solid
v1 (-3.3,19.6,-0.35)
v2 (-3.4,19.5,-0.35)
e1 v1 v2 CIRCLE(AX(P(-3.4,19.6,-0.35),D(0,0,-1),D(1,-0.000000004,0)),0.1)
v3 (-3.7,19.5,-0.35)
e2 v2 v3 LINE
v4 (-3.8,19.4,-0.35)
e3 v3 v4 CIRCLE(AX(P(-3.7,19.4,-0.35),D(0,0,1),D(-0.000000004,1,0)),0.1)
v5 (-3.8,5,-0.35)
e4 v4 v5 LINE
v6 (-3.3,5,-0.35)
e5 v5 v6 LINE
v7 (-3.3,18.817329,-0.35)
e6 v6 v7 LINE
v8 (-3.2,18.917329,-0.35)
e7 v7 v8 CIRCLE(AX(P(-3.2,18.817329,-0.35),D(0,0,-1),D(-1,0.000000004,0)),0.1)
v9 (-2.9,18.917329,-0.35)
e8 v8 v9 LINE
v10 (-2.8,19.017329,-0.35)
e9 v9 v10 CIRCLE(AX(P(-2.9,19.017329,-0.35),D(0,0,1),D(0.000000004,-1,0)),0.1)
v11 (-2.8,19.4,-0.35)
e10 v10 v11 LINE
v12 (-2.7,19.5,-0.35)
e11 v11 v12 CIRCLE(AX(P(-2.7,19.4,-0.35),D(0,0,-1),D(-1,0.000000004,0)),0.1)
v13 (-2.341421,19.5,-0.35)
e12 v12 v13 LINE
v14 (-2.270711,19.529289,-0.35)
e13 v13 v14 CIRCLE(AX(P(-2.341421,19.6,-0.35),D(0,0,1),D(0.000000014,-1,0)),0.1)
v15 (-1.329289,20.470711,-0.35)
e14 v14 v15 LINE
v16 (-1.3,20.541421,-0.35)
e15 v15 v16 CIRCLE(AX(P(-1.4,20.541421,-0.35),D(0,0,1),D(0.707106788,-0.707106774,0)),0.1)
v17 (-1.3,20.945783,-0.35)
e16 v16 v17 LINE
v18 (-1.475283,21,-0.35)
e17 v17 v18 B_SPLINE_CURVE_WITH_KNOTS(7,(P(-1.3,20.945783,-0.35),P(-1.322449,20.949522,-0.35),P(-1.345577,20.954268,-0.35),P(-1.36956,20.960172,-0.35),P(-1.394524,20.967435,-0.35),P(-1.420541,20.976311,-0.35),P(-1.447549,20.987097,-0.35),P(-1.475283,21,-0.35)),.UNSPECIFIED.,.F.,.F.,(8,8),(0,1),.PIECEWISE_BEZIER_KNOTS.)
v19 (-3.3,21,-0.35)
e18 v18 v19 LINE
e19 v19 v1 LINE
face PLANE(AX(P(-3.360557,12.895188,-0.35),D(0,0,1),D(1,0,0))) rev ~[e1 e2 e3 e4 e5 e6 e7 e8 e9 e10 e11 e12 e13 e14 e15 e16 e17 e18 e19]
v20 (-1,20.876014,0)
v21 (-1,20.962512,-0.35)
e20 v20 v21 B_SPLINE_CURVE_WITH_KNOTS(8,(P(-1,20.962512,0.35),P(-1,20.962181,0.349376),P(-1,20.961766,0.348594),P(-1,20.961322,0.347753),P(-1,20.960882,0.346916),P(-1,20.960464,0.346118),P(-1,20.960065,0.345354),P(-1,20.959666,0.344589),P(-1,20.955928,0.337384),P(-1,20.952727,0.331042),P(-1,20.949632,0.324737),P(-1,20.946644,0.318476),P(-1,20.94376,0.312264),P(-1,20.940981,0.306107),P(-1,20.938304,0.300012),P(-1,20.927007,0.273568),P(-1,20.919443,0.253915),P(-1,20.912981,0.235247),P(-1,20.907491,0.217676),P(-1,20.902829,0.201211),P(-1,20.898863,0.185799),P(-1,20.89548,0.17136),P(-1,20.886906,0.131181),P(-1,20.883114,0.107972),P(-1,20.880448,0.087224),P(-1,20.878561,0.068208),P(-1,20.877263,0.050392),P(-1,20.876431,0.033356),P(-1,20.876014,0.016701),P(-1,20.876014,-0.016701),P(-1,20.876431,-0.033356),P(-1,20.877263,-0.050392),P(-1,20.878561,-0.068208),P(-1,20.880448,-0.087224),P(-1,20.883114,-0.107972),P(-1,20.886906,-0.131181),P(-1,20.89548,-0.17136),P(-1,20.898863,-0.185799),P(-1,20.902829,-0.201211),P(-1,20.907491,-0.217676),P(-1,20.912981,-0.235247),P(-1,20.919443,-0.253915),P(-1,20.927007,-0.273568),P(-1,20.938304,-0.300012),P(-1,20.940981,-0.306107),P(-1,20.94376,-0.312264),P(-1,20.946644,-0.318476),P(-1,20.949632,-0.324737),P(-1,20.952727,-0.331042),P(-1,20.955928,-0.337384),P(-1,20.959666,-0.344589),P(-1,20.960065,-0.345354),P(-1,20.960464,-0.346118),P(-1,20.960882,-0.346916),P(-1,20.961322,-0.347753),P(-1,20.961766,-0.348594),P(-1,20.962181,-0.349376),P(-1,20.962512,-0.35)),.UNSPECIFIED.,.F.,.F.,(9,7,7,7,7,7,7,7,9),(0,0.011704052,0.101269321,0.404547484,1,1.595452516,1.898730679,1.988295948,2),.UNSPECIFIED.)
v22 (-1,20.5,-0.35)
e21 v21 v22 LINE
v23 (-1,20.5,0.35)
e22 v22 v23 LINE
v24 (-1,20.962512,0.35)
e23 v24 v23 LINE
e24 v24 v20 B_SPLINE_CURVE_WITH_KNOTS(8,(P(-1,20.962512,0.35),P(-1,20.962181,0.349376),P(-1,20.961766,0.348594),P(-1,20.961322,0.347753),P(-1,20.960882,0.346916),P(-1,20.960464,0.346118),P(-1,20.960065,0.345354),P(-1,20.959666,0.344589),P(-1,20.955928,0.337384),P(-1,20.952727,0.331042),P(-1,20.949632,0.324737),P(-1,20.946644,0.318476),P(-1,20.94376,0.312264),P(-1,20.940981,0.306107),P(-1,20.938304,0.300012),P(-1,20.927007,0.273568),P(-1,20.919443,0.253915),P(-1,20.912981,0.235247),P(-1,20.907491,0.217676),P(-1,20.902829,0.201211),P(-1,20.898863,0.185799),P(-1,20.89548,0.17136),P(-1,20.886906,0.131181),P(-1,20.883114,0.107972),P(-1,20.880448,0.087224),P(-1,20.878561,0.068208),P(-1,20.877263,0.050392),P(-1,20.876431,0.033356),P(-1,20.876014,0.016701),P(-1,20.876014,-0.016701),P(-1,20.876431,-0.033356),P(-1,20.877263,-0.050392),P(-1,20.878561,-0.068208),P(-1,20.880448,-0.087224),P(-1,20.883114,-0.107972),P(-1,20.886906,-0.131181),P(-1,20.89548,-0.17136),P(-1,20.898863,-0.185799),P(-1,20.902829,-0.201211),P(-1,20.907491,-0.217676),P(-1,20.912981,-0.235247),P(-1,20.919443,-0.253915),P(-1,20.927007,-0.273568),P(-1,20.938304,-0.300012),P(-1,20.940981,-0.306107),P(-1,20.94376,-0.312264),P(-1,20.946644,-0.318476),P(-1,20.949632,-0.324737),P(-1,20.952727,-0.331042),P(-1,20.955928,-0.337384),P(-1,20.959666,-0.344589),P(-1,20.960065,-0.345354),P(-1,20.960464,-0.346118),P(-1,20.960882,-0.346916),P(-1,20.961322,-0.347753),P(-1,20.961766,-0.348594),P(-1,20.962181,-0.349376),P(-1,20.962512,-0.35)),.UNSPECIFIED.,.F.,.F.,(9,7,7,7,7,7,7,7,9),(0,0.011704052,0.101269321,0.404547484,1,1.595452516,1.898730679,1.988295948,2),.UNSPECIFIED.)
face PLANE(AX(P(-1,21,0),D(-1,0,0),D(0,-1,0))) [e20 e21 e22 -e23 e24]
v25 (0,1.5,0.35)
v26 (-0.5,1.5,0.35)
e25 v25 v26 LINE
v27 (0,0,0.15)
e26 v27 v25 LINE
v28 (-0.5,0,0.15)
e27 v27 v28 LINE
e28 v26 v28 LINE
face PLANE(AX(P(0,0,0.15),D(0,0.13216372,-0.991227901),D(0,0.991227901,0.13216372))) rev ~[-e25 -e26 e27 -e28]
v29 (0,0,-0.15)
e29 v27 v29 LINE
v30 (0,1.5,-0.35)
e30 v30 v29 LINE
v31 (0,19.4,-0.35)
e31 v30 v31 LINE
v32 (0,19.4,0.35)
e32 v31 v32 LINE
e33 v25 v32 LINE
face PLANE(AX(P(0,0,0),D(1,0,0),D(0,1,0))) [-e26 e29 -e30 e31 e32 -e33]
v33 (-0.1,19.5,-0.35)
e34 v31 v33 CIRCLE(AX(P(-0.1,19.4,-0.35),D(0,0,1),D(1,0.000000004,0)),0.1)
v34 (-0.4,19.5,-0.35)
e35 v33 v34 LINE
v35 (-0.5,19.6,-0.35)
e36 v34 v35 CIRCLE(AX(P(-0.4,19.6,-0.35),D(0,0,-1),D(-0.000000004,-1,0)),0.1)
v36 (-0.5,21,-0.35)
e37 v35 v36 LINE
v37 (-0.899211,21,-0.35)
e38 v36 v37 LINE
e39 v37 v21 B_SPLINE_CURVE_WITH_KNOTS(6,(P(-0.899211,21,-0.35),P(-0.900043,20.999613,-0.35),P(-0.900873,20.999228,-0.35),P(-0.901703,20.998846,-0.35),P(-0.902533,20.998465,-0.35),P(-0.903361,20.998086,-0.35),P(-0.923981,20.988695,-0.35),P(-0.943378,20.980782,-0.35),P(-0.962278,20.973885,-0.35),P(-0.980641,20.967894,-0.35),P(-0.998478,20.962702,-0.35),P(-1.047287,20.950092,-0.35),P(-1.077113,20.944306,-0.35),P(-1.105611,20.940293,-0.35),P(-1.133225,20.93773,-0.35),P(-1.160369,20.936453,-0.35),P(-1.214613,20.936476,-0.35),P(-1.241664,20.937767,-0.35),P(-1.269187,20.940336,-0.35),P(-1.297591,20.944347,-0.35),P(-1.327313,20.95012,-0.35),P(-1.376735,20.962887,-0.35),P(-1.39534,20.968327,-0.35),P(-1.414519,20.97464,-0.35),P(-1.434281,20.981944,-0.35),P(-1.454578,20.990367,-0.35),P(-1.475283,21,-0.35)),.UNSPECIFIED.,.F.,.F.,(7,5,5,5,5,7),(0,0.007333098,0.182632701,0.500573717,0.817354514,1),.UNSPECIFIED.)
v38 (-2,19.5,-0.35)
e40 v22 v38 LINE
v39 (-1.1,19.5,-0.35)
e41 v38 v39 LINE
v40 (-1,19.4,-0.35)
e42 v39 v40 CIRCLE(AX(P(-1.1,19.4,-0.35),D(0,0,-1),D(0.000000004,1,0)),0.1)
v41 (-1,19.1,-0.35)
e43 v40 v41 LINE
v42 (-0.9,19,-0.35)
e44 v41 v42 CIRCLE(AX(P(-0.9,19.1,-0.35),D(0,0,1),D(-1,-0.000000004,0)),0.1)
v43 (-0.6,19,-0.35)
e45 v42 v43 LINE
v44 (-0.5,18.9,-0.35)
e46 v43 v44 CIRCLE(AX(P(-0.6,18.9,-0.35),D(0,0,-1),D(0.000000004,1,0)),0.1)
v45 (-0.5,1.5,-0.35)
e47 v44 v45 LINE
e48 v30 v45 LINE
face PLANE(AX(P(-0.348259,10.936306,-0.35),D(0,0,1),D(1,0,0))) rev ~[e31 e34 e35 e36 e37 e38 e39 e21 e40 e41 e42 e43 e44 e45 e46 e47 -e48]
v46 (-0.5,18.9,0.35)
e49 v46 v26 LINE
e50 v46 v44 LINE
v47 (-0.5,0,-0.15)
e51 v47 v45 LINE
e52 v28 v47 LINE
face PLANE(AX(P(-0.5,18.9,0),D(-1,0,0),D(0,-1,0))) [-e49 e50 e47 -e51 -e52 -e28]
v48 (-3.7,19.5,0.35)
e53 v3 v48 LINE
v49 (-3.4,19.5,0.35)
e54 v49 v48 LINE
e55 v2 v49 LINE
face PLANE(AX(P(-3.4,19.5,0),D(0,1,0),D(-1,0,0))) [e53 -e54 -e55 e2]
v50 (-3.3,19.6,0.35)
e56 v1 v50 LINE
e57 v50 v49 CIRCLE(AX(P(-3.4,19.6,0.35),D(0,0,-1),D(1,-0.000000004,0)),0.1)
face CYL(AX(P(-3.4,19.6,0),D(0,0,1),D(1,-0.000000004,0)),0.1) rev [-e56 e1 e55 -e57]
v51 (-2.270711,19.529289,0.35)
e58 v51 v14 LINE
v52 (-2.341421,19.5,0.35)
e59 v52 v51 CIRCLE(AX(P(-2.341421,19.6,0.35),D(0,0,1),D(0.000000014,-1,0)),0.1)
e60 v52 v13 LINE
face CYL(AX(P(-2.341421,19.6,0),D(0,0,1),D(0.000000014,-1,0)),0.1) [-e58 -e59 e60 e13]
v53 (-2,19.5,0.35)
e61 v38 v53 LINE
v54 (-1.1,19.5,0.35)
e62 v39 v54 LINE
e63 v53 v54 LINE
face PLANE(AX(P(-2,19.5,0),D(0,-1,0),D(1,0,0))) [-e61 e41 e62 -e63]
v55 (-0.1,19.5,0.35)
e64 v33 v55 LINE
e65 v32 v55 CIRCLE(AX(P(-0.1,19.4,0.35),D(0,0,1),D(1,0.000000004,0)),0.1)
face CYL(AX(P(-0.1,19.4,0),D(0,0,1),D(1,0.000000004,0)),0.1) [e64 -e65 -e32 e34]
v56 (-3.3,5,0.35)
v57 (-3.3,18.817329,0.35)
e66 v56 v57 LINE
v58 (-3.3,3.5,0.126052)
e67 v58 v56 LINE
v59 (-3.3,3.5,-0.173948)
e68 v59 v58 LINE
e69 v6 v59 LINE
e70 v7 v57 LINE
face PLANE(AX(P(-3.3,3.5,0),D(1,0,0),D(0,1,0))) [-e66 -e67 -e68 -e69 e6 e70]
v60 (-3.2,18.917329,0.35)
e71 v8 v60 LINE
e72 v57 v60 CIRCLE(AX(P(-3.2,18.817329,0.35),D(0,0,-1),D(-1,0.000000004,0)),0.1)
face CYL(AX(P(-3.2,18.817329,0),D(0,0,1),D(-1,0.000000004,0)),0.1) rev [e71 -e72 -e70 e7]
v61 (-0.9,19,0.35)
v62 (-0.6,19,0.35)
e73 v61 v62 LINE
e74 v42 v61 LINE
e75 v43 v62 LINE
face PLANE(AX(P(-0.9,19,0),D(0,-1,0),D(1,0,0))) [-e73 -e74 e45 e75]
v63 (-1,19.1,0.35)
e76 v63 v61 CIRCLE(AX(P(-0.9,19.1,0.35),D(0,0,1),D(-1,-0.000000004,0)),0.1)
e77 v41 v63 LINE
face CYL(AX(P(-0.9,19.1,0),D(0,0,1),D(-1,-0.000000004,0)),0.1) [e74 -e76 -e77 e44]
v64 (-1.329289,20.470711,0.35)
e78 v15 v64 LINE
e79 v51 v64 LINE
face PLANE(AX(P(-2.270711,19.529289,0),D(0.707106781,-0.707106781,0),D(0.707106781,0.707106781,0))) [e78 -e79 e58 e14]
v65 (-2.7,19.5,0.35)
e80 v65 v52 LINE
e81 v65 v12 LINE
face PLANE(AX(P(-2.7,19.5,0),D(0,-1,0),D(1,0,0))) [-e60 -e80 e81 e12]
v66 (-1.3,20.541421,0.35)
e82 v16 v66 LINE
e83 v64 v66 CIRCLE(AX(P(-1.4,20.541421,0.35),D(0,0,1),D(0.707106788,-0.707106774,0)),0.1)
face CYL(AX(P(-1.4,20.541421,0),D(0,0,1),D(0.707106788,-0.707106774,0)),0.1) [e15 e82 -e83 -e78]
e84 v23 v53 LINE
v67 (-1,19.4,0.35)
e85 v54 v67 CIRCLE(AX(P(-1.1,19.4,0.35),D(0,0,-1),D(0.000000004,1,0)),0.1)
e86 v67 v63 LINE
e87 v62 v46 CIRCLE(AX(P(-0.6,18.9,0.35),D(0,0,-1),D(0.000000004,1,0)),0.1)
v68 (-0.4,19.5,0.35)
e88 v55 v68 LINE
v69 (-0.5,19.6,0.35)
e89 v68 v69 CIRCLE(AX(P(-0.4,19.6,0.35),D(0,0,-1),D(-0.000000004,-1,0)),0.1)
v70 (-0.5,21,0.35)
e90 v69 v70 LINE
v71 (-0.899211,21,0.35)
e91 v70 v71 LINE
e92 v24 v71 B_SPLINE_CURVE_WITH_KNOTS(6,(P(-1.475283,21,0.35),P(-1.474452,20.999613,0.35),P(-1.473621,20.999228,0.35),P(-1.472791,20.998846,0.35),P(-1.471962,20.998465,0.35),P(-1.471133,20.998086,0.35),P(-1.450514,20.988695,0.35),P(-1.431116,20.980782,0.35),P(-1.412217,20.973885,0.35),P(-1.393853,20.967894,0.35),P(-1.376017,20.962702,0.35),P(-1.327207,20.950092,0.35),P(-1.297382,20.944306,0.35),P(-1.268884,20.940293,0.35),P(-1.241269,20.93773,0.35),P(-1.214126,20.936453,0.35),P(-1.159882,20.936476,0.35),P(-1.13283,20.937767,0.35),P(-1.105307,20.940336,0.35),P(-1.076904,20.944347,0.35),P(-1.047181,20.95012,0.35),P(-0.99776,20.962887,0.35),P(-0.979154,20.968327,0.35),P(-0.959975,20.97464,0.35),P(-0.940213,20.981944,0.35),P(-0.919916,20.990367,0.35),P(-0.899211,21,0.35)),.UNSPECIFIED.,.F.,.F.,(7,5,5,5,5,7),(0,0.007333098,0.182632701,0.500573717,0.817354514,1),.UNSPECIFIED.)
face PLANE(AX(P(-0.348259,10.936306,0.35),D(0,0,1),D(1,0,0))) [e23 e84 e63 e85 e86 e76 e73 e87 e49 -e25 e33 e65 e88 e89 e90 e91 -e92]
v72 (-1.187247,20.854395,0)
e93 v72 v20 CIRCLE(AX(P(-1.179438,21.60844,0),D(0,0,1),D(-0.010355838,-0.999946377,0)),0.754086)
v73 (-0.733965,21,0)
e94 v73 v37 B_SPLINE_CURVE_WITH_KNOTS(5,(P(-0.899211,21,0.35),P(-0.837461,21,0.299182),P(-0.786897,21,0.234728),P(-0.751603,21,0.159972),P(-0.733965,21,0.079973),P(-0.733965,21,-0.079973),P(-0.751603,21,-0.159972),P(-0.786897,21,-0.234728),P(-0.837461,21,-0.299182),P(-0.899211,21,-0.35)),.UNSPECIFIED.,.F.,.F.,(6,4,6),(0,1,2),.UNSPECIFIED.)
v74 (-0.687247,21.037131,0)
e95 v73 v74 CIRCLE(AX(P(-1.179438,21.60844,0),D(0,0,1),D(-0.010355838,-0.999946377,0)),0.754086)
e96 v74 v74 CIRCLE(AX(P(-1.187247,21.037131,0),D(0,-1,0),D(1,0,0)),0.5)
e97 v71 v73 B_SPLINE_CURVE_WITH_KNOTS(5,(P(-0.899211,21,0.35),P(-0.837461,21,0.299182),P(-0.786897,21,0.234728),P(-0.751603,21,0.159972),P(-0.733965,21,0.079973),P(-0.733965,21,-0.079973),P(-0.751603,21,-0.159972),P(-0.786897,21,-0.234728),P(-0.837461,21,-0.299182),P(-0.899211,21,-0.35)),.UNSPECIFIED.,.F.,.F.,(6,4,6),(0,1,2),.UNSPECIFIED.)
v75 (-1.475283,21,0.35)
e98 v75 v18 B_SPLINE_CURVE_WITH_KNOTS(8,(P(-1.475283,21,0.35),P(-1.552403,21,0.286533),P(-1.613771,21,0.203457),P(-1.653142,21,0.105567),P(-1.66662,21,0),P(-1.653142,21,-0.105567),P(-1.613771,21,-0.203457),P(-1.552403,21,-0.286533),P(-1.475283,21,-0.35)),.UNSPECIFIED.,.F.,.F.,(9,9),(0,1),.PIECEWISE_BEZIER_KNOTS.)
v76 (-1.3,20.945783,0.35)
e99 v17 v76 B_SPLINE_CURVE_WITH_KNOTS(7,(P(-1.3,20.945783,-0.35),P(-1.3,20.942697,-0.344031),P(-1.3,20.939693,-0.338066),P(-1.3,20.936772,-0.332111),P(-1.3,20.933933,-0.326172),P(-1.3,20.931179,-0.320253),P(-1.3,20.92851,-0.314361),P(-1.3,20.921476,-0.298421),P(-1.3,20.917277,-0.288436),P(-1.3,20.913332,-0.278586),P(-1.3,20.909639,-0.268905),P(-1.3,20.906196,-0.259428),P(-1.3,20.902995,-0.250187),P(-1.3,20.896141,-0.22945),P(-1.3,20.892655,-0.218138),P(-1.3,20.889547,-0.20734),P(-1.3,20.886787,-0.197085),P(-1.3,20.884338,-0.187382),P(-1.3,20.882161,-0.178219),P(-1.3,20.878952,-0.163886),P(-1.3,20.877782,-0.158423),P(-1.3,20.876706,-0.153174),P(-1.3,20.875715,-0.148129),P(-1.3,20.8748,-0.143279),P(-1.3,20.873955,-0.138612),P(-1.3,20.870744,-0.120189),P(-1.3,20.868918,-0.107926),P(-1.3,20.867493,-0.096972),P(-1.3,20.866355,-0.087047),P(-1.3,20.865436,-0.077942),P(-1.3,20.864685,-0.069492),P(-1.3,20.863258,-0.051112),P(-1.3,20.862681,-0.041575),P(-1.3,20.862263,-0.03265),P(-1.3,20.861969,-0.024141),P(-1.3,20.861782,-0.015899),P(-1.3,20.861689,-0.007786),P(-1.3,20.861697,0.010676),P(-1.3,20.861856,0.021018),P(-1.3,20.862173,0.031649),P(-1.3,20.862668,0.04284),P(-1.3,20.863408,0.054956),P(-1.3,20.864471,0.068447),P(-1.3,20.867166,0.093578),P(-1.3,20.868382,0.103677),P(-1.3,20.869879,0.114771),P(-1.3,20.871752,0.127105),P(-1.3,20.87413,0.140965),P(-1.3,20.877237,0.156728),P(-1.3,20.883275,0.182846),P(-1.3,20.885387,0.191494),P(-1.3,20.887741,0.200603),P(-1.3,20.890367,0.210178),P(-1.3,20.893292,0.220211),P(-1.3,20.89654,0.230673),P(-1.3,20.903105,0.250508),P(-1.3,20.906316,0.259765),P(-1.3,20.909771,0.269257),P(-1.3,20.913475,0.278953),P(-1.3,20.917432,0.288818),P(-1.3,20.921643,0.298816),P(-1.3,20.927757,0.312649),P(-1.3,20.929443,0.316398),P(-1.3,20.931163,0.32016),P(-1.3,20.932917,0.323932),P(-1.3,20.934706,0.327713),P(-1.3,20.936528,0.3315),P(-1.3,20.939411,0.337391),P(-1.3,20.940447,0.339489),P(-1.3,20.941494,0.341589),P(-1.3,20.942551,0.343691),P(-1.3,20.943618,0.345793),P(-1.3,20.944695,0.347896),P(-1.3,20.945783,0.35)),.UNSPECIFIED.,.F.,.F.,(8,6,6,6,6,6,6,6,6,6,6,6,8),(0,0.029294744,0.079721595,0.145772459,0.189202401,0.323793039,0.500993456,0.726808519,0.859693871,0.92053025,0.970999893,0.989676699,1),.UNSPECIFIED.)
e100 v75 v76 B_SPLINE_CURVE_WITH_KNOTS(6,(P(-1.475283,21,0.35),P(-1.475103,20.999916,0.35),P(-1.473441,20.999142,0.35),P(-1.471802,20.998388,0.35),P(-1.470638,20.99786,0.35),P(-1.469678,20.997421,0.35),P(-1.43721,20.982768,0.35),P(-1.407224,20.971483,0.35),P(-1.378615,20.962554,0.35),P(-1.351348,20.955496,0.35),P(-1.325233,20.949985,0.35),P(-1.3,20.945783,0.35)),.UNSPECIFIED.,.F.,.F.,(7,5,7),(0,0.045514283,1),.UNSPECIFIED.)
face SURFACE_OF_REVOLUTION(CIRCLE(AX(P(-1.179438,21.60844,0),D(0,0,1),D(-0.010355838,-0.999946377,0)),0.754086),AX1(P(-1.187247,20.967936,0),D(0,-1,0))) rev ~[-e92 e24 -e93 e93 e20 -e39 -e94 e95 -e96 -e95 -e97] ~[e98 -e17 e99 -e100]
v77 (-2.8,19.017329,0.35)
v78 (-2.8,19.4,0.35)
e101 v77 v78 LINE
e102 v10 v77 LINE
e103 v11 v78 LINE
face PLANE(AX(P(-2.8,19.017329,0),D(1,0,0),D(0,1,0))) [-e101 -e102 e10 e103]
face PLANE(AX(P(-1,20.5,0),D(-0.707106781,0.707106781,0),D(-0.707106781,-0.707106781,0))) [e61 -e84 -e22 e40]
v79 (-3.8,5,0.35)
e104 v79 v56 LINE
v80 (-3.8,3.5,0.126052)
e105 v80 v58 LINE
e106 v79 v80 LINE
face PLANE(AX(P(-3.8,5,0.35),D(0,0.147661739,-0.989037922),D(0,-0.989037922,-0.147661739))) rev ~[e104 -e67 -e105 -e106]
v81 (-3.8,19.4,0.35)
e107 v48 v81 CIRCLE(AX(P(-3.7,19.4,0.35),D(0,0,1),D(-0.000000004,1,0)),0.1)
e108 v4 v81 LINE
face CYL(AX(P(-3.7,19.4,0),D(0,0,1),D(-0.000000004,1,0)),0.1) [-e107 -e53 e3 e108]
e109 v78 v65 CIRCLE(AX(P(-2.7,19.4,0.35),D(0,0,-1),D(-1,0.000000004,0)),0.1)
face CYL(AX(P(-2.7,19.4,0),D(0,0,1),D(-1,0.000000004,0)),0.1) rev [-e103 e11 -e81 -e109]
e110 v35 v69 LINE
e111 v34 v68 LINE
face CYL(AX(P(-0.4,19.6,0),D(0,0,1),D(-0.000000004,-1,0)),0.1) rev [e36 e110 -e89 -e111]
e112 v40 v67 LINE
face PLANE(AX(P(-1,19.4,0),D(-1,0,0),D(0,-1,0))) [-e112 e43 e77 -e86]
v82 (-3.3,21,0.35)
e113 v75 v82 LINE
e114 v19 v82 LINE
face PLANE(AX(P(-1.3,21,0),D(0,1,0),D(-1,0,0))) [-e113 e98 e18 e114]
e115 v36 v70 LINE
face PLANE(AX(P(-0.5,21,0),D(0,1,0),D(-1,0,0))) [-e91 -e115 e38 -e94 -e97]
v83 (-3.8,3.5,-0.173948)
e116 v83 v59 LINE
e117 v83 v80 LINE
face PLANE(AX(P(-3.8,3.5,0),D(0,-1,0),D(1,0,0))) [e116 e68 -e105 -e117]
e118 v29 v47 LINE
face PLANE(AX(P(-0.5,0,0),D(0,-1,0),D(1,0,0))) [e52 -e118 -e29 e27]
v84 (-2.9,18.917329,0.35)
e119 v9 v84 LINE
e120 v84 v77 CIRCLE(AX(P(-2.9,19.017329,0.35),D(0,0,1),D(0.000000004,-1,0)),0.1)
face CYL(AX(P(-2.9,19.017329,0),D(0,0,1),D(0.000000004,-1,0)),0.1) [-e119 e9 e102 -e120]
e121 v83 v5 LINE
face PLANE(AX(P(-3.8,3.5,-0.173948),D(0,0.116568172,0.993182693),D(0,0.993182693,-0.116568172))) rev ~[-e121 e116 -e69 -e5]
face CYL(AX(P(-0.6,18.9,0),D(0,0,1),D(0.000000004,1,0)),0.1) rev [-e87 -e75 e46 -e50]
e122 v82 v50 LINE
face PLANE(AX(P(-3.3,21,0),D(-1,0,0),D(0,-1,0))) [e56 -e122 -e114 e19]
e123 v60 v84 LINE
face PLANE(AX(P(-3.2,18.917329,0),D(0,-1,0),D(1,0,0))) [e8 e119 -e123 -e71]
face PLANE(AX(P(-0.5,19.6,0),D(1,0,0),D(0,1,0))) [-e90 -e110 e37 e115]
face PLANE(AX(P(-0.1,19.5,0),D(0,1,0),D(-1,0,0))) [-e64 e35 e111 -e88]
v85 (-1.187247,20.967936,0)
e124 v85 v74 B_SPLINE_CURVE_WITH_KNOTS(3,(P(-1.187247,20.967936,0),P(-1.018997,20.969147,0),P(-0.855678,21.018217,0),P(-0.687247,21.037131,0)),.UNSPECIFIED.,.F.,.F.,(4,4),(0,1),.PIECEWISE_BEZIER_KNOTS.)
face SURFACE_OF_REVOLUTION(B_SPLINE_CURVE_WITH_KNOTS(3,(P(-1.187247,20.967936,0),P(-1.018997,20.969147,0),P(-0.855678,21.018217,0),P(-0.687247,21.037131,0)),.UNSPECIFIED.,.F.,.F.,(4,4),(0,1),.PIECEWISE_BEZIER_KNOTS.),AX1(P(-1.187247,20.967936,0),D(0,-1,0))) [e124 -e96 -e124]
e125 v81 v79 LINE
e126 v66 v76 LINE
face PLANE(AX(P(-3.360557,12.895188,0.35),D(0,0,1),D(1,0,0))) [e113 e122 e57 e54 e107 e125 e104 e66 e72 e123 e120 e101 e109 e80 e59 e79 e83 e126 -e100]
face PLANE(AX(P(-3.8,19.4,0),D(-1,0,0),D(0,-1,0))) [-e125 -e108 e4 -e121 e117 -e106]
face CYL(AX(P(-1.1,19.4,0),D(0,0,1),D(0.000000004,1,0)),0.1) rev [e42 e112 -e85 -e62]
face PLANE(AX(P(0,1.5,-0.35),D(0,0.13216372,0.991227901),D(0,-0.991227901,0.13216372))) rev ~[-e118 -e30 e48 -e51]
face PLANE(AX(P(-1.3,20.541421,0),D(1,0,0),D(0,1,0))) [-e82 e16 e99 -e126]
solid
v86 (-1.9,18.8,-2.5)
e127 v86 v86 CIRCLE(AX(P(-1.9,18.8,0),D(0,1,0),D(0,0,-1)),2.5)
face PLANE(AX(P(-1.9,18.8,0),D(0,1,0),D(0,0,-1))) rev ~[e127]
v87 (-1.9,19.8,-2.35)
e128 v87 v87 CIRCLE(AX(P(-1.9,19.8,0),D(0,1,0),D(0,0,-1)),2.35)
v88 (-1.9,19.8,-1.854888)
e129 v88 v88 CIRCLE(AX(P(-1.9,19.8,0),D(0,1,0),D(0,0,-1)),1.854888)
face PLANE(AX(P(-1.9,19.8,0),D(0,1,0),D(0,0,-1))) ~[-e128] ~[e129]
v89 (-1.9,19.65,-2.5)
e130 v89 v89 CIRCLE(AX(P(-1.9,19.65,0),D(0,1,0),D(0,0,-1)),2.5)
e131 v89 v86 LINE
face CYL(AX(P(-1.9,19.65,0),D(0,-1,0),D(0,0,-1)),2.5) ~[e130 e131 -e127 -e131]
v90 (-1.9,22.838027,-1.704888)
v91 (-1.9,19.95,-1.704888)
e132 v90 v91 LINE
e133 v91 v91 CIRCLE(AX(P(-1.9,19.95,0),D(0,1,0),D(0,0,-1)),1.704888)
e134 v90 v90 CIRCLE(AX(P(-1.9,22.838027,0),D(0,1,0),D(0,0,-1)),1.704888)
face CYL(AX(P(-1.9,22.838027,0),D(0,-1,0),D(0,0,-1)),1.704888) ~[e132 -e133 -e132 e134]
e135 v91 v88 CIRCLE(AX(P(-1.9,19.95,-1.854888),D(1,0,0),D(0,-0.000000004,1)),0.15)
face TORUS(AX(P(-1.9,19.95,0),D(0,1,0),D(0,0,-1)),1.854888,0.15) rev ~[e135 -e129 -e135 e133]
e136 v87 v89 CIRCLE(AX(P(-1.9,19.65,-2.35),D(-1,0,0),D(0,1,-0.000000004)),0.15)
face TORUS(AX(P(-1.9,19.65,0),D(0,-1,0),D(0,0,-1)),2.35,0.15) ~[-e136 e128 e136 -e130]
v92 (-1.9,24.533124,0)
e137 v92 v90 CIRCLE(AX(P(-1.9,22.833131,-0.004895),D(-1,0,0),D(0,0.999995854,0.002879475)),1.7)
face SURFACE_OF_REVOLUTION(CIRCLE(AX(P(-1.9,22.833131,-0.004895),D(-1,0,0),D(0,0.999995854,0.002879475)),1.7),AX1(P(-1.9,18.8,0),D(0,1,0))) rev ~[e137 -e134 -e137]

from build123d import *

# Parameters (mm, degrees)
BOSS_EXTRUDE1_DEPTH = 0.35
BOSS_EXTRUDE2_DEPTH = 0.35
CUT_EXTRUDE1_DEPTH  = 0.7
CUT_EXTRUDE2_DEPTH  = 0.7


with BuildPart() as part:
    # Sketch1 → Boss-Extrude1 (new, symmetric)
    with BuildSketch(Plane.XY):
        with BuildLine():
            Line((0, 0), (0, 19.4))
            ThreePointArc((0, 19.4), (-0.029289322, 19.470710678), (-0.1, 19.5))
            Line((-0.1, 19.5), (-0.4, 19.5))
            ThreePointArc((-0.4, 19.5), (-0.470710678, 19.529289322), (-0.5, 19.6))
            Line((-0.5, 19.6), (-0.5, 20.5))
            Line((-0.5, 20.5), (-0.5, 21))
            Line((-0.5, 21), (-1, 21))
            Line((-1, 21), (-1, 20.5))
            Line((-1, 20.5), (-2, 19.5))
            Line((-2, 19.5), (-1.1, 19.5))
            ThreePointArc((-1.1, 19.5), (-1.029289322, 19.470710678), (-1, 19.4))
            Line((-1, 19.4), (-1, 19.1))
            ThreePointArc((-1, 19.1), (-0.970710678, 19.029289322), (-0.9, 19))
            Line((-0.9, 19), (-0.6, 19))
            ThreePointArc((-0.6, 19), (-0.529289322, 18.970710678), (-0.5, 18.9))
            Line((-0.5, 18.9), (-0.5, 0))
            Line((-0.5, 0), (0, 0))
        make_face()
    extrude(amount=BOSS_EXTRUDE1_DEPTH, both=True)


with BuildPart() as body_2:
    # Sketch2 → Boss-Extrude2 (new, symmetric)
    with BuildSketch(Plane.XY):
        with BuildLine():
            Line((-2.270710678, 19.529289322), (-1.329289322, 20.470710678))
            ThreePointArc((-1.329289322, 20.470710678), (-1.307612047, 20.503153013), (-1.3, 20.541421356))
            Line((-1.3, 20.541421356), (-1.3, 21))
            Line((-1.3, 21), (-3.3, 21))
            Line((-3.3, 21), (-3.3, 19.6))
            ThreePointArc((-3.3, 19.6), (-3.329289322, 19.529289322), (-3.4, 19.5))
            Line((-3.4, 19.5), (-3.7, 19.5))
            ThreePointArc((-3.7, 19.5), (-3.770710678, 19.470710678), (-3.8, 19.4))
            Line((-3.8, 19.4), (-3.8, 3.5))
            Line((-3.8, 3.5), (-3.3, 3.5))
            Line((-3.3, 3.5), (-3.3, 18.817329295))
            ThreePointArc((-3.3, 18.817329295), (-3.270710678, 18.888039973), (-3.2, 18.917329295))
            Line((-3.2, 18.917329295), (-2.9, 18.917329295))
            ThreePointArc((-2.9, 18.917329295), (-2.829289322, 18.946618617), (-2.8, 19.017329295))
            Line((-2.8, 19.017329295), (-2.8, 19.4))
            ThreePointArc((-2.8, 19.4), (-2.770710678, 19.470710678), (-2.7, 19.5))
            Line((-2.7, 19.5), (-2.341421356, 19.5))
            ThreePointArc((-2.341421356, 19.5), (-2.303153013, 19.507612047), (-2.270710678, 19.529289322))
        make_face()
    extrude(amount=BOSS_EXTRUDE2_DEPTH, both=True)


with BuildPart() as cut_revolve2_tool:
    # Sketch3 → Cut-Revolve2 (revolve)
    with BuildSketch(Plane.XY):
        with BuildLine():
            Line((-1.187247292, 20.854394701), (-1.187247292, 21.16036165))
            Line((-1.187247292, 21.16036165), (-0.687247292, 21.037131329))
            ThreePointArc((-0.687247292, 21.037131329), (-0.920585717, 20.900173974), (-1.187247292, 20.854394701))
        make_face()
    revolve(axis=Axis((-1.187247292, 20.854394701, 0), (0, 1, 0)))


with BuildPart() as part_1:
    add(part.part)

    # Cut-Revolve2: cut by cut_revolve2_tool
    add(cut_revolve2_tool.part, mode=Mode.SUBTRACT)



with BuildPart() as body_2_1:
    add(body_2.part)

    # Cut-Revolve2: cut by cut_revolve2_tool
    add(cut_revolve2_tool.part, mode=Mode.SUBTRACT)


with BuildPart() as part_2:
    add(part_1.part)

    add(body_2_1.part)  # Revolve2 merges body 2
    # Sketch5 → Revolve2 (revolve)
    with BuildSketch(Plane.XY):
        with BuildLine():
            Line((-1.187247292, 20.967936142), (-1.187247292, 20.854394701))
            ThreePointArc((-1.187247292, 20.854394701), (-0.920585717, 20.900173974), (-0.687247292, 21.037131329))
            add(Edge.make_bspline(
                [(-1.187247292, 20.967936142), (-1.018996559, 20.969146878), (-0.855677822, 21.018217253), (-0.687247292, 21.037131329)],
                knots=[0, 0, 0, 0, 1, 1, 1, 1], degree=3))
        make_face()
    revolve(axis=Axis((-1.187247292, 20.967936142, 0), (0, -1, 0)))

    # Sketch8 → Cut-Extrude1 (cut)
    with BuildSketch(Plane(origin=(0, 0, 0), x_dir=(0, 0, -1), z_dir=(1, 0, 0))):
        Polygon((0.35, 1.5), (0.15, 0), (0.35, 0), align=None)
        Polygon((-0.35, 0), (-0.15, 0), (-0.35, 1.5), align=None)
    extrude(amount=-CUT_EXTRUDE1_DEPTH, mode=Mode.SUBTRACT)

    # Sketch9 → Cut-Extrude2 (cut)
    with BuildSketch(Plane.ZY.offset(3.8)):
        Polygon((-0.35, 3.5), (-0.173947539, 3.5), (-0.35, 5), align=None)
        Polygon((0.35, 5), (0.126052461, 3.5), (0.35, 3.5), align=None)
    extrude(amount=-CUT_EXTRUDE2_DEPTH, mode=Mode.SUBTRACT)


with BuildPart() as body_2_2:
    # Sketch7 → Revolve6 (revolve)
    with BuildSketch(Plane.XY, mode=Mode.PRIVATE) as revolve6_sk:
        with BuildLine():
            Line((-0.195111941, 22.838026568), (-0.195111941, 19.95))
            ThreePointArc((-0.195111941, 19.95), (-0.151177958, 19.843933983), (-0.045111941, 19.8))
            Line((-0.045111941, 19.8), (0.45, 19.8))
            ThreePointArc((0.45, 19.8), (0.556066017, 19.756066017), (0.6, 19.65))
            Line((0.6, 19.65), (0.6, 18.8))
            Line((0.6, 18.8), (-1.9, 18.8))
            Line((-1.9, 18.8), (-1.9, 24.533124413))
            ThreePointArc((-1.9, 24.533124413), (-0.696489712, 24.038669369), (-0.195111941, 22.838026568))
        make_face()
    revolve(revolve6_sk.sketch.rotate(Axis((-1.9, 18.8, 0), (0, 1, 0)), 90), axis=Axis((-1.9, 18.8, 0), (0, 1, 0)))


solid = Compound([part_2.part, body_2_2.part])
